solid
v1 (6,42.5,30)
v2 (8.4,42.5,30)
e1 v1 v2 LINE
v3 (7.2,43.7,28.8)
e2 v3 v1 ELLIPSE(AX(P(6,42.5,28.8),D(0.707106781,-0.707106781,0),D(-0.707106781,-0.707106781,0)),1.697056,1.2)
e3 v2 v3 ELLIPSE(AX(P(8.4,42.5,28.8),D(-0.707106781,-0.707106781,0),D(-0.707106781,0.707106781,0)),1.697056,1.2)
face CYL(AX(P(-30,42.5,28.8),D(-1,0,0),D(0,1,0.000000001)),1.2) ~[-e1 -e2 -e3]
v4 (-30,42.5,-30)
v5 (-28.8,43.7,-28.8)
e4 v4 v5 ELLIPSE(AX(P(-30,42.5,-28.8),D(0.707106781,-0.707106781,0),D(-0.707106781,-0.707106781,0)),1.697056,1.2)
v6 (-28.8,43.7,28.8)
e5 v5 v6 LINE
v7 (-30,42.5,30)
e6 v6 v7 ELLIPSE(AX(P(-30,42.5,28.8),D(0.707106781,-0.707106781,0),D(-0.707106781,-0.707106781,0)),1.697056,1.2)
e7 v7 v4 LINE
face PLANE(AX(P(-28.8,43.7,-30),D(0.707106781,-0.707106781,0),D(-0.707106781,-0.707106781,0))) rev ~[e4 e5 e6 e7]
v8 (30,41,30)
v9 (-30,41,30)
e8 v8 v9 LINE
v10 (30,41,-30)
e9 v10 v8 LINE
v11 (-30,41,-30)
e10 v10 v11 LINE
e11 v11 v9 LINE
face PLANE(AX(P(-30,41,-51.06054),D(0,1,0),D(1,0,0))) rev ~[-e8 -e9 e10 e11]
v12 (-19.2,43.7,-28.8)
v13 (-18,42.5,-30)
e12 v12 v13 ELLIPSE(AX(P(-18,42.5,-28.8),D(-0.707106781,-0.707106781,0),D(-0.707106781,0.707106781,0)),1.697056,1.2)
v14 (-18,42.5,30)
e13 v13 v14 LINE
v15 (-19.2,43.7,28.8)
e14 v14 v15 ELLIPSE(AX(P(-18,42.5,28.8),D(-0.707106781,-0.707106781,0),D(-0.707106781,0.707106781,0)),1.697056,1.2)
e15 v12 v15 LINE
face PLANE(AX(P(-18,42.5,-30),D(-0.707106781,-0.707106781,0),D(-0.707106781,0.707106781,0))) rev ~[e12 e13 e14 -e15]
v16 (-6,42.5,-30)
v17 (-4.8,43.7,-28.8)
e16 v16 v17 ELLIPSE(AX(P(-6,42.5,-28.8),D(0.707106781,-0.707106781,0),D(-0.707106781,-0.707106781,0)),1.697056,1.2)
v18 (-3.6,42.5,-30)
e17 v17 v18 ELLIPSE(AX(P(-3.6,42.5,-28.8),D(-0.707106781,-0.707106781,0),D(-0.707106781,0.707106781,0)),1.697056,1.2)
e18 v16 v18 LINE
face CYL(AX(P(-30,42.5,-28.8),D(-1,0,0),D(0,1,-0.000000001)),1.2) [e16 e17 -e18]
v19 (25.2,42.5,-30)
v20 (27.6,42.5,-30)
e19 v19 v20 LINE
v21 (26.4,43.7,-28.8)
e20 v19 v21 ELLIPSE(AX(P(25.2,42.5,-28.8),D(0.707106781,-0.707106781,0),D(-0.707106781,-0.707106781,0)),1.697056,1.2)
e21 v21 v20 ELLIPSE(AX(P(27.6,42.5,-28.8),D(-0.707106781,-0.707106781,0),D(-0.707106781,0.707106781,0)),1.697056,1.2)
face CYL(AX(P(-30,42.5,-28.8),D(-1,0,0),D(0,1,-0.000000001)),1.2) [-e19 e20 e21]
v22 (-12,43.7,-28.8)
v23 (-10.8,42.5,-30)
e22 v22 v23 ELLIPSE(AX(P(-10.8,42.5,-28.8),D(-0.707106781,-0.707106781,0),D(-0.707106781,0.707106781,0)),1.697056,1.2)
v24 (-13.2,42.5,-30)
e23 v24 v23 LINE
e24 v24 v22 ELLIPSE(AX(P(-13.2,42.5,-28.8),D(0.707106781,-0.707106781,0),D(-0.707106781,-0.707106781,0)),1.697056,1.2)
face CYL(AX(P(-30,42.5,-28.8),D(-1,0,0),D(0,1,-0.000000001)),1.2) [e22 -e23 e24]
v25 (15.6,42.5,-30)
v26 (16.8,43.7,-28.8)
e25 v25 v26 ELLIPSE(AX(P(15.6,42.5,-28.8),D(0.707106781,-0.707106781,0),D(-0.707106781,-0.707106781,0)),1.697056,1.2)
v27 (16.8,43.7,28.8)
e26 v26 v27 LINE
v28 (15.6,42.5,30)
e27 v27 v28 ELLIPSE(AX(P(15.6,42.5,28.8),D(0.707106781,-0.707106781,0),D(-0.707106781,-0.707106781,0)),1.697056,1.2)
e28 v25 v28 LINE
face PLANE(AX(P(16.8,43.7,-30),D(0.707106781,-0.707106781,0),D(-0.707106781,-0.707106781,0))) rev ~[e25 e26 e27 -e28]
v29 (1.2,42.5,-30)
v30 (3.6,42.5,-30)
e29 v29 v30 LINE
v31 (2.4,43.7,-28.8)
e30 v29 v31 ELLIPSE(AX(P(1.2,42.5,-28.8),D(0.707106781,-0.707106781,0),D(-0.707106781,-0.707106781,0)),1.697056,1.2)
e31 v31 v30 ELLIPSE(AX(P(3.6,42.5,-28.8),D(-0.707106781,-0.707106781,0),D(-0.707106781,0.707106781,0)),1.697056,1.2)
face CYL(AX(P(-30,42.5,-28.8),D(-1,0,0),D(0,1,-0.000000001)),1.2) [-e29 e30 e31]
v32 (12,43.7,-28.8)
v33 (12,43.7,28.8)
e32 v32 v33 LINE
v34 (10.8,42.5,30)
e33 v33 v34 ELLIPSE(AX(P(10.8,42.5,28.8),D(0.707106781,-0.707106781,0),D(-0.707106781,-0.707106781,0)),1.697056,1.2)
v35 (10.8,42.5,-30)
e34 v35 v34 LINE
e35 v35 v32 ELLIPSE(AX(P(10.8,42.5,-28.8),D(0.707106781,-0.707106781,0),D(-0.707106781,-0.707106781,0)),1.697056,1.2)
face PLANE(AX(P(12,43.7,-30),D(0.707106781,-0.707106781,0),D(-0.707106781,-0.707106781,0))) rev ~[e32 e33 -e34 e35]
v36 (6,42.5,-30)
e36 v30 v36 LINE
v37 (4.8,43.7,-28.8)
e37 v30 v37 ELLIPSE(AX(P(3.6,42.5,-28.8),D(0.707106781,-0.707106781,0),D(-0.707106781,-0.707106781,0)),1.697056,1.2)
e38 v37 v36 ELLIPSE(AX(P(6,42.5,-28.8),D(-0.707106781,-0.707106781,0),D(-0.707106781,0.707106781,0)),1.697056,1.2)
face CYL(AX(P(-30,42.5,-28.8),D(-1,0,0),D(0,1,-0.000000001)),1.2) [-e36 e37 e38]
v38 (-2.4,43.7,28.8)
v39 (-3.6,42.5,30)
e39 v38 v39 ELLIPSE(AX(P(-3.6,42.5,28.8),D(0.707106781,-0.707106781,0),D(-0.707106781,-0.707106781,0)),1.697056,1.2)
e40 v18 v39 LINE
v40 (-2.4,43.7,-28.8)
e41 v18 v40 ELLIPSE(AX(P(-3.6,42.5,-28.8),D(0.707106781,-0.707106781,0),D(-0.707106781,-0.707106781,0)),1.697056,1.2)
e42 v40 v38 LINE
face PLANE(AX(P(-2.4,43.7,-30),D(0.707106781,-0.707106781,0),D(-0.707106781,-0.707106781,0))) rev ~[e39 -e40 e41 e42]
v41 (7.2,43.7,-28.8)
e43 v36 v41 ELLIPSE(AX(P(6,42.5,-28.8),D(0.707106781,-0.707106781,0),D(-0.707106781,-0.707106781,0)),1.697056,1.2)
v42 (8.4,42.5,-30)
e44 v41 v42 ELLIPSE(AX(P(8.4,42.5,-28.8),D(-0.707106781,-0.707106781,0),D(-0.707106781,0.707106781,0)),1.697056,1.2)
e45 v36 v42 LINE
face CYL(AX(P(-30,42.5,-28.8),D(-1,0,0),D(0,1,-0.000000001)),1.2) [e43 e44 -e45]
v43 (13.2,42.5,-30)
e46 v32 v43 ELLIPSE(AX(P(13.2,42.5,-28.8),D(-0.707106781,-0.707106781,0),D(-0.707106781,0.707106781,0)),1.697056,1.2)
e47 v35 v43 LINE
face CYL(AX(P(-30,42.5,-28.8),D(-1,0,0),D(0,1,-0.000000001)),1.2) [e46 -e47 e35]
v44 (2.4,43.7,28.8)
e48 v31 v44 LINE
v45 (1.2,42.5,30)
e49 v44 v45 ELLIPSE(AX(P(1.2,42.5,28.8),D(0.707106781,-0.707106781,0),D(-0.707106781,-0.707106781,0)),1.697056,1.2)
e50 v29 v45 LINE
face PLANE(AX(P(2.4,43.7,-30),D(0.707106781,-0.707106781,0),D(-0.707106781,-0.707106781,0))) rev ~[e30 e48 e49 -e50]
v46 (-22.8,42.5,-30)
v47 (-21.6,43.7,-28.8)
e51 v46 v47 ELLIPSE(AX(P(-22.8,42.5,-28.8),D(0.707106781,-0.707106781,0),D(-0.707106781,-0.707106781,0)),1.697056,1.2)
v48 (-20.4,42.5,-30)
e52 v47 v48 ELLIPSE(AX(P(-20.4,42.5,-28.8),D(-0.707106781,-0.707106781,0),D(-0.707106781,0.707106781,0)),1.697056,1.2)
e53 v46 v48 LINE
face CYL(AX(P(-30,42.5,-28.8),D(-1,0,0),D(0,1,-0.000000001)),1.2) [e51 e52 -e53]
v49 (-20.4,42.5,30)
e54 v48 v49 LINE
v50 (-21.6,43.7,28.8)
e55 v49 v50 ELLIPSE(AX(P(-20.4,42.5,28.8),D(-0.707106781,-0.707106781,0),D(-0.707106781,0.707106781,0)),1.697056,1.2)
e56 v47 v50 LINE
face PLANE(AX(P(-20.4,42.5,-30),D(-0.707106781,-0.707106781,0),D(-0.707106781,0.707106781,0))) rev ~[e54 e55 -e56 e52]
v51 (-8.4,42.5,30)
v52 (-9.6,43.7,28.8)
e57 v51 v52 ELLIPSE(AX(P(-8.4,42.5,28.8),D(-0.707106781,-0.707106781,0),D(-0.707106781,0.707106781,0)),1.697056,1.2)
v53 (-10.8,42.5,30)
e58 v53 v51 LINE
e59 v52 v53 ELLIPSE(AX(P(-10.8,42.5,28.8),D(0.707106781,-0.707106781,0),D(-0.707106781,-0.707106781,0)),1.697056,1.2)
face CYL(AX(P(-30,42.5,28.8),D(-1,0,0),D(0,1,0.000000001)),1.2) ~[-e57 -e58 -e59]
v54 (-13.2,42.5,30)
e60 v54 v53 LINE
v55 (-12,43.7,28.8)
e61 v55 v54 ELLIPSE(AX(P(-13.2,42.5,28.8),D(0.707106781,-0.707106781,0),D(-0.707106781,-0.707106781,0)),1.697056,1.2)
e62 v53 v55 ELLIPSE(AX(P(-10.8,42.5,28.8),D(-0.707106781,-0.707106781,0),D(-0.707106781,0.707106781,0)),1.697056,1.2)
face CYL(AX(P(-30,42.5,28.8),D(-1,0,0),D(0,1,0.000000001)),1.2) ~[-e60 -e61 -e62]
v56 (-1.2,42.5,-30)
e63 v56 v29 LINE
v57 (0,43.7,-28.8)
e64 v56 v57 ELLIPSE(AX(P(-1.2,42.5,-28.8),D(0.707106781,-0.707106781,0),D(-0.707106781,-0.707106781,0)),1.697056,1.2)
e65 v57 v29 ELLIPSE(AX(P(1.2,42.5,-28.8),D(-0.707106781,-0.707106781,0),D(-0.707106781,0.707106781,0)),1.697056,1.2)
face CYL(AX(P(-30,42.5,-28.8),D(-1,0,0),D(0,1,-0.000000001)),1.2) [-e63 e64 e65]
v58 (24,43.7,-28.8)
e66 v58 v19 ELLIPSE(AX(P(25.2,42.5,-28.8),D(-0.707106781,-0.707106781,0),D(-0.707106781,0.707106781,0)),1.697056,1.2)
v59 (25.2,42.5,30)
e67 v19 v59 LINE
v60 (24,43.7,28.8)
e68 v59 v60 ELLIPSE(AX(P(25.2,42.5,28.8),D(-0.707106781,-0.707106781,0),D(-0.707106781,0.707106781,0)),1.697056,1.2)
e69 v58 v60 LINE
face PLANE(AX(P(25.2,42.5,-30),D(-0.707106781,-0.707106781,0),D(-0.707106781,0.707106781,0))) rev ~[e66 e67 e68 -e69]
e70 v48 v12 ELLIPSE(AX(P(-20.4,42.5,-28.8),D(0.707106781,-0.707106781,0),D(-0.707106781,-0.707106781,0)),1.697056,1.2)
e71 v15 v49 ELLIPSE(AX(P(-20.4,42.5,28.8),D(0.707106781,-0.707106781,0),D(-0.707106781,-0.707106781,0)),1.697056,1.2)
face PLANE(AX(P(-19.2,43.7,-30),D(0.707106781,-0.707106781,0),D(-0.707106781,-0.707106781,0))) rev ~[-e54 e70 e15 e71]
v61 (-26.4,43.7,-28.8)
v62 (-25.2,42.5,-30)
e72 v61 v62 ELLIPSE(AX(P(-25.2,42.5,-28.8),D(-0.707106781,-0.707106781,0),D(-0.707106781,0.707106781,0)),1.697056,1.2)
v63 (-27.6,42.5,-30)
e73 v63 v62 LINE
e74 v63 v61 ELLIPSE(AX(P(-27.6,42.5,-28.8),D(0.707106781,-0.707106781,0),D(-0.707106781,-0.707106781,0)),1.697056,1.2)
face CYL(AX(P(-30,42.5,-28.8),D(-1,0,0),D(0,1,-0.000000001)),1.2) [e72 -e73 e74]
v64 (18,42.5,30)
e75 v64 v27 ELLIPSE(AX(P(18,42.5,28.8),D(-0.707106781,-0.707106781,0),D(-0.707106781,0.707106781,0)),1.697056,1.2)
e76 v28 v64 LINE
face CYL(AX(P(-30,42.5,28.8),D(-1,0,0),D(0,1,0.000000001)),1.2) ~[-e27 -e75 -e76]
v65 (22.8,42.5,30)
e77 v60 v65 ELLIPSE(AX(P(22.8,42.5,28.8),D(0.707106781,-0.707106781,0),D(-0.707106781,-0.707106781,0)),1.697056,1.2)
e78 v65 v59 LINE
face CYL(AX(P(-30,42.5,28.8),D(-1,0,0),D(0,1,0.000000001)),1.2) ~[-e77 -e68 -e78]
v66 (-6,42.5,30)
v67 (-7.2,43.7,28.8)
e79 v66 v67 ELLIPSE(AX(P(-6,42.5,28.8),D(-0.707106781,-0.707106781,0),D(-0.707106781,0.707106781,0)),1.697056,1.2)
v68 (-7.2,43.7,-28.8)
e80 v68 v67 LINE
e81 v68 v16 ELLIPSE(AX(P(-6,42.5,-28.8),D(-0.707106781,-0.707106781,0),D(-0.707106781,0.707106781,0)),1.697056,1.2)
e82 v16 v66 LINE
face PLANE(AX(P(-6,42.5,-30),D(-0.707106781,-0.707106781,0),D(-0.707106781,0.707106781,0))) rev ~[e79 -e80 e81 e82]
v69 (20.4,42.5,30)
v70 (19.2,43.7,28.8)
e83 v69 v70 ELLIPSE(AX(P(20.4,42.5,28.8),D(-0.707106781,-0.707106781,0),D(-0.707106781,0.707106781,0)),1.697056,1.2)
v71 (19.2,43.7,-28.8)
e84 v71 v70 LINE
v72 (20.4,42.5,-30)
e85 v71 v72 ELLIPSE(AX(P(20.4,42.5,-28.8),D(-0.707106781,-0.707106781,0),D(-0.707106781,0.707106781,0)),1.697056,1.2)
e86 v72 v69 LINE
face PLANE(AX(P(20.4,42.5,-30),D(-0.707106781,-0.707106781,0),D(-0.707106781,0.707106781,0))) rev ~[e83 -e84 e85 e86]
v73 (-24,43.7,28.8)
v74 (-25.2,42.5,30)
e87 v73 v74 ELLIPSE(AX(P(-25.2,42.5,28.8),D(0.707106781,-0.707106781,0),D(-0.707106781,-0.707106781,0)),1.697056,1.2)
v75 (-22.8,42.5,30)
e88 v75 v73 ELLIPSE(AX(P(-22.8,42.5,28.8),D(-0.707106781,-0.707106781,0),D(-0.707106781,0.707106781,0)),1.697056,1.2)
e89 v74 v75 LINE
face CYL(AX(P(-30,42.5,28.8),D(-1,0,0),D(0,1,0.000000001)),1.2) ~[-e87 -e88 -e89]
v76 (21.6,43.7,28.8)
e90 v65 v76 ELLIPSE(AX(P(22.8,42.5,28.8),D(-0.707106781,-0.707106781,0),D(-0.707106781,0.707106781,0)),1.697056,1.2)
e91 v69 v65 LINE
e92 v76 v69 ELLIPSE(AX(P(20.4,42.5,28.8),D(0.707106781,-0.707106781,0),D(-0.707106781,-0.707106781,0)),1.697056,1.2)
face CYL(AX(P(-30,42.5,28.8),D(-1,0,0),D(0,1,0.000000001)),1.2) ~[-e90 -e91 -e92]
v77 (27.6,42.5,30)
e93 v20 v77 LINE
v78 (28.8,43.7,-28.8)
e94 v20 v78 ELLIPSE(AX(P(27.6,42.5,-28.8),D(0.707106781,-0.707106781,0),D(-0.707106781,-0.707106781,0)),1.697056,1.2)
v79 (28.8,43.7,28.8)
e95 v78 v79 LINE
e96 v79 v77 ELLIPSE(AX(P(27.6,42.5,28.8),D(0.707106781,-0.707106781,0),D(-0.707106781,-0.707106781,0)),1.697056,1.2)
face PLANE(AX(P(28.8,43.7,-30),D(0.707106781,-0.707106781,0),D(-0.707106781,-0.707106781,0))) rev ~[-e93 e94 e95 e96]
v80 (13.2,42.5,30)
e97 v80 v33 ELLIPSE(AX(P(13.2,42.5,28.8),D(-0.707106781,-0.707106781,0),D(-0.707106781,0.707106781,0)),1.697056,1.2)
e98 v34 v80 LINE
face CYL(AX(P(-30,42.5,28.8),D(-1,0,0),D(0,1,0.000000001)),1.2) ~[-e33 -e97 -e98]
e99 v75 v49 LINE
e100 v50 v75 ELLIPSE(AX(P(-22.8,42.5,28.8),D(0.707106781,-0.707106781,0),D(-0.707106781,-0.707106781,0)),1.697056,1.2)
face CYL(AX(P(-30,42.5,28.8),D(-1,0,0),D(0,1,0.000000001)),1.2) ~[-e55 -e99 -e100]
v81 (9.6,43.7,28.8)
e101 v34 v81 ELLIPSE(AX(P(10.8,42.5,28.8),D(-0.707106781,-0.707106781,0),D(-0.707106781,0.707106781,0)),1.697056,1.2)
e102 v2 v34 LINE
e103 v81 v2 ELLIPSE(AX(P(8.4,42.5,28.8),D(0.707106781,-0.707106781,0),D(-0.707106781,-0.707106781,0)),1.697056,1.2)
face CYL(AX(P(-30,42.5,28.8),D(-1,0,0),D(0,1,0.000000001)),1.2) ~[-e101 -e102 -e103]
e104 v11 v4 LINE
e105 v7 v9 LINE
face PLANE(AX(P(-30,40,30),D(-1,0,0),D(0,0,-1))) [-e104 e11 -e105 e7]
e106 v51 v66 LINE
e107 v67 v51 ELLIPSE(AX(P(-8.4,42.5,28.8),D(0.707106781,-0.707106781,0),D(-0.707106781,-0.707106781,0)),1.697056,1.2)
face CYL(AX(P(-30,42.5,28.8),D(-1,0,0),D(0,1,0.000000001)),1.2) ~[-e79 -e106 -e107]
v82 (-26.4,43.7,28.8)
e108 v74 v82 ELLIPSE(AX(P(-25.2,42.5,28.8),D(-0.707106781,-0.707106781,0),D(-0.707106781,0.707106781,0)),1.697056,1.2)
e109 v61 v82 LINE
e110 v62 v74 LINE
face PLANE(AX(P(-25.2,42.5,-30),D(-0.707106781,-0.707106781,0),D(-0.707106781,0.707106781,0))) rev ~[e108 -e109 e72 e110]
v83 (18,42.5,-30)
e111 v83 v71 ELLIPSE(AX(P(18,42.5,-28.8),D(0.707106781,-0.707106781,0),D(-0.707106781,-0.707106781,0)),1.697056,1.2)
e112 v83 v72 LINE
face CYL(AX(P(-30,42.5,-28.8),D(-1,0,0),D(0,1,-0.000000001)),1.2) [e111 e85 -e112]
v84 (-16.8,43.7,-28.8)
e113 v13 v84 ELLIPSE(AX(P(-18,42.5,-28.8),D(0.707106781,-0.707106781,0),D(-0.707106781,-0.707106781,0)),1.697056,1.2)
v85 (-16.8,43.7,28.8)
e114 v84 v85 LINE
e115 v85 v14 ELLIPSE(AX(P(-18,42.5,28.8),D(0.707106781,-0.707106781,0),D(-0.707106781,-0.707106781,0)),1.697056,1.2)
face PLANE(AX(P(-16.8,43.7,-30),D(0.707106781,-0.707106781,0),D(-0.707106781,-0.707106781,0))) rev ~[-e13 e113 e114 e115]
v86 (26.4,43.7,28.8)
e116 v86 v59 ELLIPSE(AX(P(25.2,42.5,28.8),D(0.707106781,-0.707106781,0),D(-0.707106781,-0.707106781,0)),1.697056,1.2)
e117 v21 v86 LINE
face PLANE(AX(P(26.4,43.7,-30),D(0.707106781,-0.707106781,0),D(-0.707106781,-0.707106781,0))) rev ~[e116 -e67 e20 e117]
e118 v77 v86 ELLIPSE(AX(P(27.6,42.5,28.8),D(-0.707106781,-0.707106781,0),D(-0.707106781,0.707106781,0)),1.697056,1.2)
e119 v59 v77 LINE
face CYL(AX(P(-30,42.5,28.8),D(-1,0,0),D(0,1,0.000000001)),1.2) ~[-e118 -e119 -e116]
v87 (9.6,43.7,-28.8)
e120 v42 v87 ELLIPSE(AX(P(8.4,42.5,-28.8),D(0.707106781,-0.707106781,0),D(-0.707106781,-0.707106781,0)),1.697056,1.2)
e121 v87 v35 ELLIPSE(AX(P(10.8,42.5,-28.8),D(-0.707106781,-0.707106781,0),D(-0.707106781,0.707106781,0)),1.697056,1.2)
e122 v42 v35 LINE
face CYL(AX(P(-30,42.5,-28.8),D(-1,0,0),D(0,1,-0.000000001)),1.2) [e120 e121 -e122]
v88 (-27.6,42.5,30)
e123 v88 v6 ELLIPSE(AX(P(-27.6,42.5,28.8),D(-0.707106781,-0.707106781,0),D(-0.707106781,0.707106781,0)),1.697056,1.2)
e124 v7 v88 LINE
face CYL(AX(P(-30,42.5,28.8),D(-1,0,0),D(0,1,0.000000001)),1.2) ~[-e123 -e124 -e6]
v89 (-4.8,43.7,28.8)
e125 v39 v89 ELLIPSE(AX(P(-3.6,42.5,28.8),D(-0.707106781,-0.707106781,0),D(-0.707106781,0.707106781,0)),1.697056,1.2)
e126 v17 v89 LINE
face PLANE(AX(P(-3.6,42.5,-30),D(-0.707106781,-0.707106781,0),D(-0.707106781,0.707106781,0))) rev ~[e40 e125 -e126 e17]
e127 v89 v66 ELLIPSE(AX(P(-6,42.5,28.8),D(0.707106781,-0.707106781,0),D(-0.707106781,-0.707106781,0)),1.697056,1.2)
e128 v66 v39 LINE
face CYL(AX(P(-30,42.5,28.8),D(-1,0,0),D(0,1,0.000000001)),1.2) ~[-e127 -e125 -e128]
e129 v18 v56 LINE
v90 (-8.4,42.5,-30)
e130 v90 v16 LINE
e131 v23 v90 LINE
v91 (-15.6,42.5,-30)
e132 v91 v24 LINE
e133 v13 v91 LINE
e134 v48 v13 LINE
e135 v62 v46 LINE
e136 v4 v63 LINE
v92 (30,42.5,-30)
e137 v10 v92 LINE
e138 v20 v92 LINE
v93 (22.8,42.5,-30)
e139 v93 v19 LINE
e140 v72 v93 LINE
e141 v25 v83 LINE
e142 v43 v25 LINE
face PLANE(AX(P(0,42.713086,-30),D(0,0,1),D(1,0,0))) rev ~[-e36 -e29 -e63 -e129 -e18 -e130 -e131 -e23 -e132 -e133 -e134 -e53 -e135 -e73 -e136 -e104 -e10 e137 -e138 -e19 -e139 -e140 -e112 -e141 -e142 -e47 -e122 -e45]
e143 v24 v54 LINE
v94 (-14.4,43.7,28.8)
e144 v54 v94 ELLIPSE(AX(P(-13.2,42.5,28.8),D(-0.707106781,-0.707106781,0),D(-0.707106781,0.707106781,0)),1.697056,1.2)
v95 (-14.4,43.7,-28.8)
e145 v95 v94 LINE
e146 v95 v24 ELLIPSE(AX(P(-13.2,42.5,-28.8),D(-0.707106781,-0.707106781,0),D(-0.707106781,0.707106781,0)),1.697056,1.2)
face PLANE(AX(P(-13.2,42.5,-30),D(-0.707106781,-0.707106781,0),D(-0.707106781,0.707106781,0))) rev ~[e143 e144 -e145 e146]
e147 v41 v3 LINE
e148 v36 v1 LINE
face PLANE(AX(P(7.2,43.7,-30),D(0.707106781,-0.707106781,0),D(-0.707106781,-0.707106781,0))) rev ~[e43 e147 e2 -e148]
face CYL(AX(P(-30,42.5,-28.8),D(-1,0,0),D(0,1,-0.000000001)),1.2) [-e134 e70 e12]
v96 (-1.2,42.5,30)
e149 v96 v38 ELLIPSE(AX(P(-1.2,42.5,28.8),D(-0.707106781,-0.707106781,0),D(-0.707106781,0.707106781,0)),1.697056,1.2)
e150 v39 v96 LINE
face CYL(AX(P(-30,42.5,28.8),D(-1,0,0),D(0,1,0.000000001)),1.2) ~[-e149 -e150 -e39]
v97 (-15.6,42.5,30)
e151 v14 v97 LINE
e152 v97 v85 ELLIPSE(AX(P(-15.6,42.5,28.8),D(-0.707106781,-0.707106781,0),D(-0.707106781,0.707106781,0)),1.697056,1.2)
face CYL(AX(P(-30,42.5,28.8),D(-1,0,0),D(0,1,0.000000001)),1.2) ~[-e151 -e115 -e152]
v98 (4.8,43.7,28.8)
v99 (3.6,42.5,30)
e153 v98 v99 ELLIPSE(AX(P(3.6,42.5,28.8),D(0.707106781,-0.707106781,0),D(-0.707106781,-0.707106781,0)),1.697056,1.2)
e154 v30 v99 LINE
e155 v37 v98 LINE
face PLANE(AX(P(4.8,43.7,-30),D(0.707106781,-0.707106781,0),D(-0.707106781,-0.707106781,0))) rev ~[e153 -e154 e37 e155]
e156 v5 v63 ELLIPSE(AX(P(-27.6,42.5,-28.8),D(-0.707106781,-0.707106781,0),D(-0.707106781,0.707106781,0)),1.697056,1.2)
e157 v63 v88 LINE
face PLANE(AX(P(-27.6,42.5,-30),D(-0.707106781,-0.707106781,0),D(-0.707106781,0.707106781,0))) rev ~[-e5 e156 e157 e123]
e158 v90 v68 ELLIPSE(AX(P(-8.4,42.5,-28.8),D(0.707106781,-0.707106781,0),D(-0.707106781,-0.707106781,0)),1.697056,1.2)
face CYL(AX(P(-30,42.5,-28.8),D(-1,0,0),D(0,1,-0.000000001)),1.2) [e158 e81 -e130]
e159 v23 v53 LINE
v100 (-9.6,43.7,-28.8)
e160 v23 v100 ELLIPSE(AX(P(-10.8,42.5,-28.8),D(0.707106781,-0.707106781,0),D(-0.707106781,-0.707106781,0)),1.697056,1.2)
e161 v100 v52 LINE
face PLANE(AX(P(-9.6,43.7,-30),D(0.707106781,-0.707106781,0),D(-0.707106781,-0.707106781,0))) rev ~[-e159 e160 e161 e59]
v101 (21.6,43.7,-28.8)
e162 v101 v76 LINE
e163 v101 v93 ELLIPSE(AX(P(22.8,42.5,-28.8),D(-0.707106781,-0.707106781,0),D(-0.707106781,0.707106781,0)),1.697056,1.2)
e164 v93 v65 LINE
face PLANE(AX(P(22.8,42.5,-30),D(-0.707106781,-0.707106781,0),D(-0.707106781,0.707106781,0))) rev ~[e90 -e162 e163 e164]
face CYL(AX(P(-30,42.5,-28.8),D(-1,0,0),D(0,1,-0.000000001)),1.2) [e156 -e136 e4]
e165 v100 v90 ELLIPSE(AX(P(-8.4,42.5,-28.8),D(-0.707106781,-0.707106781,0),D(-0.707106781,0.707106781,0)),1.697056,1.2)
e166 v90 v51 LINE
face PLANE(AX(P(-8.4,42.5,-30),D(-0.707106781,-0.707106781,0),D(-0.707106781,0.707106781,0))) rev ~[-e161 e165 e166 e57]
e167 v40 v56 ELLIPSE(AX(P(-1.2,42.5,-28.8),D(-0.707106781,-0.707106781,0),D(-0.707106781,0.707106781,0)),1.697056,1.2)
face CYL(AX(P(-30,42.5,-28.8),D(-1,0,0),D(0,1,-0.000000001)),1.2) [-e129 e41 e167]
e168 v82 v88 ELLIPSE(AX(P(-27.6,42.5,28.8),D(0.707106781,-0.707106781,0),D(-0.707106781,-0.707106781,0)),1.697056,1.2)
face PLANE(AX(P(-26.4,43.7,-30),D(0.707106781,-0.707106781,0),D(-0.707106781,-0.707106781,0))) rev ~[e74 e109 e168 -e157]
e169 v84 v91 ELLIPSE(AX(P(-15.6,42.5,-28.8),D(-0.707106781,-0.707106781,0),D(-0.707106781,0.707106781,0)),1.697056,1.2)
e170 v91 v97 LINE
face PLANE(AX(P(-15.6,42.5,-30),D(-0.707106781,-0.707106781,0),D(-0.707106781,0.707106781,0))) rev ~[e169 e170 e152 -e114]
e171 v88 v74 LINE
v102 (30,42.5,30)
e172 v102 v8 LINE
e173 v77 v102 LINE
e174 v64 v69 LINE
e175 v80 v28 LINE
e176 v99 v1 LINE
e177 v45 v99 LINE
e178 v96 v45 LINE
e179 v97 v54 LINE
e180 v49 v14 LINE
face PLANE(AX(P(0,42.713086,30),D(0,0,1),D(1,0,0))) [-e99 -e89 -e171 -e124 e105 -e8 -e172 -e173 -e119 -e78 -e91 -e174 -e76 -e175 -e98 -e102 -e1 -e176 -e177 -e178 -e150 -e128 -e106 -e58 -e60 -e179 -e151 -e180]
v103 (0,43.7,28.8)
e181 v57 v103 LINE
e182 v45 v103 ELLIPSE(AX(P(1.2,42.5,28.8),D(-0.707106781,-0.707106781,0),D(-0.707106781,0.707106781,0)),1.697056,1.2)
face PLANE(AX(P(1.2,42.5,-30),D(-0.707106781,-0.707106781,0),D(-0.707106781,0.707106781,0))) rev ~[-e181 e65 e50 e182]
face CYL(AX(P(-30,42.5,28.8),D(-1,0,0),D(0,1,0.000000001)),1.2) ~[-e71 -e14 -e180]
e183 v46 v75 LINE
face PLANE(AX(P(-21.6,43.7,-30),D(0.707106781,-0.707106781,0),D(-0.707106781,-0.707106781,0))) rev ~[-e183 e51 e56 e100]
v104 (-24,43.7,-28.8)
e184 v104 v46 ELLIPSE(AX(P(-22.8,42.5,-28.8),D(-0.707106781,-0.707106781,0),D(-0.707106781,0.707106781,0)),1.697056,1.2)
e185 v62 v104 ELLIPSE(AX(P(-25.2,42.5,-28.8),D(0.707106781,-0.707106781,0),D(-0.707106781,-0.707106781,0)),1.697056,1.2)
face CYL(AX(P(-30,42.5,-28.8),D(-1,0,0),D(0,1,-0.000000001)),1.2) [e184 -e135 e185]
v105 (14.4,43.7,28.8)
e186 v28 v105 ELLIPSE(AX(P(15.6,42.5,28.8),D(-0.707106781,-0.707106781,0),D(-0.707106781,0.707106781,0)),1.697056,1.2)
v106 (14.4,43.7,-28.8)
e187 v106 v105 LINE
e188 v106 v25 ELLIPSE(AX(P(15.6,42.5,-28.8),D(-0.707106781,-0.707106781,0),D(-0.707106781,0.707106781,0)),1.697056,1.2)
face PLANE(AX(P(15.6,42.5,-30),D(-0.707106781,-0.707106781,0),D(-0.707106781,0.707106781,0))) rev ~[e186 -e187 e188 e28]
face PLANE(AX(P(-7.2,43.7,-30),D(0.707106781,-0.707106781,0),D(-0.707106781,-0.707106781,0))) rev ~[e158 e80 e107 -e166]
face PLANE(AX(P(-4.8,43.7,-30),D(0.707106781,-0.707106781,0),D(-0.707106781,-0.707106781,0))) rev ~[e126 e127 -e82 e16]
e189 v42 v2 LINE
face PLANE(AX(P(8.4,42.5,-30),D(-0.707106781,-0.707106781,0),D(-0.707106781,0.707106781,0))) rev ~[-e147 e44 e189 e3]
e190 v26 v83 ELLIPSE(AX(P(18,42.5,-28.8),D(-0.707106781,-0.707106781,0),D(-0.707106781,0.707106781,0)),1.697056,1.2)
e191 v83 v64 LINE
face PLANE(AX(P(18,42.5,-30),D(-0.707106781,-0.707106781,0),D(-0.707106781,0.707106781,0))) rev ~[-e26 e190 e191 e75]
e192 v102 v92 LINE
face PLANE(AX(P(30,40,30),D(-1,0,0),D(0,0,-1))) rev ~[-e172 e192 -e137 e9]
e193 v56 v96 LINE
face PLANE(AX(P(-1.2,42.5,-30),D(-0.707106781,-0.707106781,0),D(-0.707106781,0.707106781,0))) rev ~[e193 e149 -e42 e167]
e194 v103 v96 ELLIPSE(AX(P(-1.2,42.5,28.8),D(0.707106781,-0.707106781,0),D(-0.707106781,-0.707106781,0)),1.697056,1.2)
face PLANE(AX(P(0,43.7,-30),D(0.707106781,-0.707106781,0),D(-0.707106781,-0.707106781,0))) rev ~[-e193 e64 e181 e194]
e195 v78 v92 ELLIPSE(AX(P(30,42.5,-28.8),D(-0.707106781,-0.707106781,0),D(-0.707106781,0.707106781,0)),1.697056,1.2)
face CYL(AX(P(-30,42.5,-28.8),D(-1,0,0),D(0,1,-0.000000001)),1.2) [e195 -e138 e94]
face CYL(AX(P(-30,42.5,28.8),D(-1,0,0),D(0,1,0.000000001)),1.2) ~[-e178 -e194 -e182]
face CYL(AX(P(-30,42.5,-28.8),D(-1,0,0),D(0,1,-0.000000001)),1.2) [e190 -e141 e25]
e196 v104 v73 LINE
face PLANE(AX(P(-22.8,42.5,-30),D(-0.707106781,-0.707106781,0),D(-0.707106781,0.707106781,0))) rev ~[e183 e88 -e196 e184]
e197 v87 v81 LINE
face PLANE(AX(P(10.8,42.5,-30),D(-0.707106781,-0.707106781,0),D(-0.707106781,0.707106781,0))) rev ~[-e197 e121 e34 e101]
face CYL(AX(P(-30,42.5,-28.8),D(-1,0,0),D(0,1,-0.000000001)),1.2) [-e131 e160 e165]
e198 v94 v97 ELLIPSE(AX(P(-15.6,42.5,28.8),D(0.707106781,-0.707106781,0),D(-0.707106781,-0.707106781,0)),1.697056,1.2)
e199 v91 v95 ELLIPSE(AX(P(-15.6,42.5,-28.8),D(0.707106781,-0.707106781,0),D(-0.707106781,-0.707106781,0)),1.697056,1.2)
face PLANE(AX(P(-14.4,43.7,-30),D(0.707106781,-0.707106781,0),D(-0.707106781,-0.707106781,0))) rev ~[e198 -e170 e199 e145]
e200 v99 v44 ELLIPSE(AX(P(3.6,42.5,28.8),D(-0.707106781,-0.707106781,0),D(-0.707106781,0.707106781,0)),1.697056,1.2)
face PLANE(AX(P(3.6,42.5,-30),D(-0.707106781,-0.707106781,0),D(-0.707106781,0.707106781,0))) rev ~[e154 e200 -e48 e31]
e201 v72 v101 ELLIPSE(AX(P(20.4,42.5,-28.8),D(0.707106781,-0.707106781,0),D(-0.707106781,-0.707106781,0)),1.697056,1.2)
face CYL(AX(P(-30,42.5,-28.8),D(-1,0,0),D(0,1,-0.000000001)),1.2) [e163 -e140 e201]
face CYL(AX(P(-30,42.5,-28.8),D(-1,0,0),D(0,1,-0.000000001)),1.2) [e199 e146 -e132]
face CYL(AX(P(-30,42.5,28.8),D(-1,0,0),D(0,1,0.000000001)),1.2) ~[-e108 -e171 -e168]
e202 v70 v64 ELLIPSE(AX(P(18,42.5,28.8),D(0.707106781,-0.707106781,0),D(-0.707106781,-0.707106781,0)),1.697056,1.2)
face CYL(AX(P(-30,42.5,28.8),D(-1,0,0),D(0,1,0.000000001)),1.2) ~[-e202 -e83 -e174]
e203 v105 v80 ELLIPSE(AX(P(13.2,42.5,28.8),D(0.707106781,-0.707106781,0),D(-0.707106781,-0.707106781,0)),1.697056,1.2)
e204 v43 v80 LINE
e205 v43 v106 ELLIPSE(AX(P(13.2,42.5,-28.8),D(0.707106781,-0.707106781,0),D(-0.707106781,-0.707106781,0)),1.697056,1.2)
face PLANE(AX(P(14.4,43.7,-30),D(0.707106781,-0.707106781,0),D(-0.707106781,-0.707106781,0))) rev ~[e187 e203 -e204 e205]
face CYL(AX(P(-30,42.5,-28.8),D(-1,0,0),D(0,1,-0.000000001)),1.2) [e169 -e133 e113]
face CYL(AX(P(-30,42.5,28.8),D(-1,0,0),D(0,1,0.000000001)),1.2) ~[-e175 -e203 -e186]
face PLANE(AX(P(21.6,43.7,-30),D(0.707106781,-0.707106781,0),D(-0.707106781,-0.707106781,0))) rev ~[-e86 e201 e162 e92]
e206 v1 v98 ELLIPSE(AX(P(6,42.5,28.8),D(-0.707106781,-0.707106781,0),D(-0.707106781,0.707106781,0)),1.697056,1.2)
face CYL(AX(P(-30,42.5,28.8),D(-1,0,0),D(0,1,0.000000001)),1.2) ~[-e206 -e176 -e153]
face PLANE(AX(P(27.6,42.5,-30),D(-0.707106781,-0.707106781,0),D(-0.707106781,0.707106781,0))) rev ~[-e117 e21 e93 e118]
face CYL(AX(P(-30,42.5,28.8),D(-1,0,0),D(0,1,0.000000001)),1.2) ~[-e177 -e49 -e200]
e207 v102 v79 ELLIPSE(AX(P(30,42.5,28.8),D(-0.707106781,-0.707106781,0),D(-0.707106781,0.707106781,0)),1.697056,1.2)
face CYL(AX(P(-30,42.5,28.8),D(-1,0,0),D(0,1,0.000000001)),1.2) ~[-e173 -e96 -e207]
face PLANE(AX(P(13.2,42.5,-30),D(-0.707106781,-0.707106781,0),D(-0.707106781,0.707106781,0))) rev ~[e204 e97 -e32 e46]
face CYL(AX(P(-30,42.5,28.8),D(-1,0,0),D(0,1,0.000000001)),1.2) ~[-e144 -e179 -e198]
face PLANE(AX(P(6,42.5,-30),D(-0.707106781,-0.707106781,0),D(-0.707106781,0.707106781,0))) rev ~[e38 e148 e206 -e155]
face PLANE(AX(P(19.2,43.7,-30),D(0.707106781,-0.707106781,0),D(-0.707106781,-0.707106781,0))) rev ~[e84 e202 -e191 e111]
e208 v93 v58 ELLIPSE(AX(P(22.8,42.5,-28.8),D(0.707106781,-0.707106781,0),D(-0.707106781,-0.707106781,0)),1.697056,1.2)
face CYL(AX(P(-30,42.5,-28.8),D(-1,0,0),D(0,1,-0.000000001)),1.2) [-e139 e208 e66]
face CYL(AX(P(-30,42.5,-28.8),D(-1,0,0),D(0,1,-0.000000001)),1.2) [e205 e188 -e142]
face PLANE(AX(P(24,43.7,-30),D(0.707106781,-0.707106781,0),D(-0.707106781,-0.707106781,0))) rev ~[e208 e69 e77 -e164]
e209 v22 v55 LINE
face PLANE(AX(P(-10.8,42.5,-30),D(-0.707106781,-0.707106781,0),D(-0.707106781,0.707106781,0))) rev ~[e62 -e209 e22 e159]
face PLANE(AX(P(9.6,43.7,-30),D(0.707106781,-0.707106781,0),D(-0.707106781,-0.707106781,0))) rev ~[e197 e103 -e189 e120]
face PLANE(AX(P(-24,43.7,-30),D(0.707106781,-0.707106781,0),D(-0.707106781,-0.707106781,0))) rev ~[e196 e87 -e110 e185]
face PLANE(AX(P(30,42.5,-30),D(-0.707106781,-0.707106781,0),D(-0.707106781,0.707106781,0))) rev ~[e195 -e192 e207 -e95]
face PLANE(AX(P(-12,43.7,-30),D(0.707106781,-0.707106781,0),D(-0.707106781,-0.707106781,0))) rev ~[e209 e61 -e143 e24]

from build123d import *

# Parameters (mm, degrees)
SKETCH1_W               = 60
SKETCH1_H               = 60
SKETCH1_W_2             = 55
SKETCH1_H_2             = 55
BOSS_EXTRUDE1_DEPTH     = 40
SKETCH2_W               = 60
SKETCH2_H               = 60
BOSS_EXTRUDE2_DEPTH     = 2.5
BOSS_EXTRUDE3_DEPTH     = 60
CUT_EXTRUDE1_REACH      = 82.061
CUT_EXTRUDE2_DEPTH      = 81.060539593
CUT_EXTRUDE2_DEPTH_BACK = 81.060539593
SKETCH5_W               = 60
SKETCH5_H               = 41


with BuildPart() as part:
    # Sketch1 → Boss-Extrude1 (new body)
    with BuildSketch(Plane(origin=(0, 0, 0), x_dir=(1, 0, 0), z_dir=(0, 1, 0))):
        Rectangle(SKETCH1_W, SKETCH1_H)
        Rectangle(SKETCH1_W_2, SKETCH1_H_2, mode=Mode.SUBTRACT)
    extrude(amount=BOSS_EXTRUDE1_DEPTH)

    # Sketch2 → Boss-Extrude2 (add)
    with BuildSketch(Plane(origin=(0, 40, 0), x_dir=(1, 0, 0), z_dir=(0, 1, 0))):
        Rectangle(SKETCH2_W, SKETCH2_H)
    extrude(amount=BOSS_EXTRUDE2_DEPTH)

    # Sketch3 → Boss-Extrude3 (add)
    with BuildSketch(Plane(origin=(0, 0, -30), x_dir=(-1, 0, 0), z_dir=(0, 0, -1))):
        Polygon((-30, 42.5), (-28.8, 43.7), (-27.6, 42.5), (-26.4, 43.7), (-25.2, 42.5), (-24, 43.7), (-22.8, 42.5), (-21.6, 43.7), (-20.4, 42.5), (-19.2, 43.7), (-18, 42.5), (-16.8, 43.7), (-15.6, 42.5), (-14.4, 43.7), (-13.2, 42.5), (-12, 43.7), (-10.8, 42.5), (-9.6, 43.7), (-8.4, 42.5), (-7.2, 43.7), (-6, 42.5), (-4.8, 43.7), (-3.6, 42.5), (-2.4, 43.7), (-1.2, 42.5), (0, 43.7), (1.2, 42.5), (2.4, 43.7), (3.6, 42.5), (4.8, 43.7), (6, 42.5), (7.2, 43.7), (8.4, 42.5), (9.6, 43.7), (10.8, 42.5), (12, 43.7), (13.2, 42.5), (14.4, 43.7), (15.6, 42.5), (16.8, 43.7), (18, 42.5), (19.2, 43.7), (20.4, 42.5), (21.6, 43.7), (22.8, 42.5), (24, 43.7), (25.2, 42.5), (26.4, 43.7), (27.6, 42.5), (28.8, 43.7), (30, 42.5), (30, 42.170064374), (-30, 42.170064374), align=None)
    extrude(amount=-BOSS_EXTRUDE3_DEPTH)

    # Cut-Extrude1: up to this face of the body (flat: up to its plane)
    cut_extrude1_end = Plane(part.part.faces().sort_by_distance((30, 21.25, 0))[0])
    # Sketch4 → Cut-Extrude1 (cut, up to the picked face)
    with BuildSketch(Plane.ZY.offset(30), mode=Mode.PRIVATE) as cut_extrude1_sk1:
        with BuildLine():
            Line((-30, 42.5), (-30, 43.7))
            Line((-30, 43.7), (-28.8, 43.7))
            ThreePointArc((-28.8, 43.7), (-29.648528137, 43.348528137), (-30, 42.5))
        make_face()
    cut_extrude1_tool1 = split(extrude(cut_extrude1_sk1.sketch, amount=-CUT_EXTRUDE1_REACH, mode=Mode.PRIVATE), bisect_by=cut_extrude1_end, keep=Keep.BOTH, mode=Mode.PRIVATE)
    cut_extrude1 = cut_extrude1_tool1.solids().sort_by(Axis((-30, 43.431958, -29.731958), (1, 0, 0)))[0]
    add(cut_extrude1, mode=Mode.SUBTRACT)

    # Mirror1: Cut-Extrude1 across plane
    add(cut_extrude1.mirror(Plane.XY), mode=Mode.SUBTRACT)

    # Sketch5 → Cut-Extrude2 (cut, two sides: drawn at the far end of the back side and taken through both)
    with BuildSketch(Plane.XY.offset(30).offset(-CUT_EXTRUDE2_DEPTH_BACK)):
        with Locations((0, 20.5)):
            Rectangle(SKETCH5_W, SKETCH5_H)
    extrude(amount=CUT_EXTRUDE2_DEPTH + CUT_EXTRUDE2_DEPTH_BACK, mode=Mode.SUBTRACT)


solid = part.part
